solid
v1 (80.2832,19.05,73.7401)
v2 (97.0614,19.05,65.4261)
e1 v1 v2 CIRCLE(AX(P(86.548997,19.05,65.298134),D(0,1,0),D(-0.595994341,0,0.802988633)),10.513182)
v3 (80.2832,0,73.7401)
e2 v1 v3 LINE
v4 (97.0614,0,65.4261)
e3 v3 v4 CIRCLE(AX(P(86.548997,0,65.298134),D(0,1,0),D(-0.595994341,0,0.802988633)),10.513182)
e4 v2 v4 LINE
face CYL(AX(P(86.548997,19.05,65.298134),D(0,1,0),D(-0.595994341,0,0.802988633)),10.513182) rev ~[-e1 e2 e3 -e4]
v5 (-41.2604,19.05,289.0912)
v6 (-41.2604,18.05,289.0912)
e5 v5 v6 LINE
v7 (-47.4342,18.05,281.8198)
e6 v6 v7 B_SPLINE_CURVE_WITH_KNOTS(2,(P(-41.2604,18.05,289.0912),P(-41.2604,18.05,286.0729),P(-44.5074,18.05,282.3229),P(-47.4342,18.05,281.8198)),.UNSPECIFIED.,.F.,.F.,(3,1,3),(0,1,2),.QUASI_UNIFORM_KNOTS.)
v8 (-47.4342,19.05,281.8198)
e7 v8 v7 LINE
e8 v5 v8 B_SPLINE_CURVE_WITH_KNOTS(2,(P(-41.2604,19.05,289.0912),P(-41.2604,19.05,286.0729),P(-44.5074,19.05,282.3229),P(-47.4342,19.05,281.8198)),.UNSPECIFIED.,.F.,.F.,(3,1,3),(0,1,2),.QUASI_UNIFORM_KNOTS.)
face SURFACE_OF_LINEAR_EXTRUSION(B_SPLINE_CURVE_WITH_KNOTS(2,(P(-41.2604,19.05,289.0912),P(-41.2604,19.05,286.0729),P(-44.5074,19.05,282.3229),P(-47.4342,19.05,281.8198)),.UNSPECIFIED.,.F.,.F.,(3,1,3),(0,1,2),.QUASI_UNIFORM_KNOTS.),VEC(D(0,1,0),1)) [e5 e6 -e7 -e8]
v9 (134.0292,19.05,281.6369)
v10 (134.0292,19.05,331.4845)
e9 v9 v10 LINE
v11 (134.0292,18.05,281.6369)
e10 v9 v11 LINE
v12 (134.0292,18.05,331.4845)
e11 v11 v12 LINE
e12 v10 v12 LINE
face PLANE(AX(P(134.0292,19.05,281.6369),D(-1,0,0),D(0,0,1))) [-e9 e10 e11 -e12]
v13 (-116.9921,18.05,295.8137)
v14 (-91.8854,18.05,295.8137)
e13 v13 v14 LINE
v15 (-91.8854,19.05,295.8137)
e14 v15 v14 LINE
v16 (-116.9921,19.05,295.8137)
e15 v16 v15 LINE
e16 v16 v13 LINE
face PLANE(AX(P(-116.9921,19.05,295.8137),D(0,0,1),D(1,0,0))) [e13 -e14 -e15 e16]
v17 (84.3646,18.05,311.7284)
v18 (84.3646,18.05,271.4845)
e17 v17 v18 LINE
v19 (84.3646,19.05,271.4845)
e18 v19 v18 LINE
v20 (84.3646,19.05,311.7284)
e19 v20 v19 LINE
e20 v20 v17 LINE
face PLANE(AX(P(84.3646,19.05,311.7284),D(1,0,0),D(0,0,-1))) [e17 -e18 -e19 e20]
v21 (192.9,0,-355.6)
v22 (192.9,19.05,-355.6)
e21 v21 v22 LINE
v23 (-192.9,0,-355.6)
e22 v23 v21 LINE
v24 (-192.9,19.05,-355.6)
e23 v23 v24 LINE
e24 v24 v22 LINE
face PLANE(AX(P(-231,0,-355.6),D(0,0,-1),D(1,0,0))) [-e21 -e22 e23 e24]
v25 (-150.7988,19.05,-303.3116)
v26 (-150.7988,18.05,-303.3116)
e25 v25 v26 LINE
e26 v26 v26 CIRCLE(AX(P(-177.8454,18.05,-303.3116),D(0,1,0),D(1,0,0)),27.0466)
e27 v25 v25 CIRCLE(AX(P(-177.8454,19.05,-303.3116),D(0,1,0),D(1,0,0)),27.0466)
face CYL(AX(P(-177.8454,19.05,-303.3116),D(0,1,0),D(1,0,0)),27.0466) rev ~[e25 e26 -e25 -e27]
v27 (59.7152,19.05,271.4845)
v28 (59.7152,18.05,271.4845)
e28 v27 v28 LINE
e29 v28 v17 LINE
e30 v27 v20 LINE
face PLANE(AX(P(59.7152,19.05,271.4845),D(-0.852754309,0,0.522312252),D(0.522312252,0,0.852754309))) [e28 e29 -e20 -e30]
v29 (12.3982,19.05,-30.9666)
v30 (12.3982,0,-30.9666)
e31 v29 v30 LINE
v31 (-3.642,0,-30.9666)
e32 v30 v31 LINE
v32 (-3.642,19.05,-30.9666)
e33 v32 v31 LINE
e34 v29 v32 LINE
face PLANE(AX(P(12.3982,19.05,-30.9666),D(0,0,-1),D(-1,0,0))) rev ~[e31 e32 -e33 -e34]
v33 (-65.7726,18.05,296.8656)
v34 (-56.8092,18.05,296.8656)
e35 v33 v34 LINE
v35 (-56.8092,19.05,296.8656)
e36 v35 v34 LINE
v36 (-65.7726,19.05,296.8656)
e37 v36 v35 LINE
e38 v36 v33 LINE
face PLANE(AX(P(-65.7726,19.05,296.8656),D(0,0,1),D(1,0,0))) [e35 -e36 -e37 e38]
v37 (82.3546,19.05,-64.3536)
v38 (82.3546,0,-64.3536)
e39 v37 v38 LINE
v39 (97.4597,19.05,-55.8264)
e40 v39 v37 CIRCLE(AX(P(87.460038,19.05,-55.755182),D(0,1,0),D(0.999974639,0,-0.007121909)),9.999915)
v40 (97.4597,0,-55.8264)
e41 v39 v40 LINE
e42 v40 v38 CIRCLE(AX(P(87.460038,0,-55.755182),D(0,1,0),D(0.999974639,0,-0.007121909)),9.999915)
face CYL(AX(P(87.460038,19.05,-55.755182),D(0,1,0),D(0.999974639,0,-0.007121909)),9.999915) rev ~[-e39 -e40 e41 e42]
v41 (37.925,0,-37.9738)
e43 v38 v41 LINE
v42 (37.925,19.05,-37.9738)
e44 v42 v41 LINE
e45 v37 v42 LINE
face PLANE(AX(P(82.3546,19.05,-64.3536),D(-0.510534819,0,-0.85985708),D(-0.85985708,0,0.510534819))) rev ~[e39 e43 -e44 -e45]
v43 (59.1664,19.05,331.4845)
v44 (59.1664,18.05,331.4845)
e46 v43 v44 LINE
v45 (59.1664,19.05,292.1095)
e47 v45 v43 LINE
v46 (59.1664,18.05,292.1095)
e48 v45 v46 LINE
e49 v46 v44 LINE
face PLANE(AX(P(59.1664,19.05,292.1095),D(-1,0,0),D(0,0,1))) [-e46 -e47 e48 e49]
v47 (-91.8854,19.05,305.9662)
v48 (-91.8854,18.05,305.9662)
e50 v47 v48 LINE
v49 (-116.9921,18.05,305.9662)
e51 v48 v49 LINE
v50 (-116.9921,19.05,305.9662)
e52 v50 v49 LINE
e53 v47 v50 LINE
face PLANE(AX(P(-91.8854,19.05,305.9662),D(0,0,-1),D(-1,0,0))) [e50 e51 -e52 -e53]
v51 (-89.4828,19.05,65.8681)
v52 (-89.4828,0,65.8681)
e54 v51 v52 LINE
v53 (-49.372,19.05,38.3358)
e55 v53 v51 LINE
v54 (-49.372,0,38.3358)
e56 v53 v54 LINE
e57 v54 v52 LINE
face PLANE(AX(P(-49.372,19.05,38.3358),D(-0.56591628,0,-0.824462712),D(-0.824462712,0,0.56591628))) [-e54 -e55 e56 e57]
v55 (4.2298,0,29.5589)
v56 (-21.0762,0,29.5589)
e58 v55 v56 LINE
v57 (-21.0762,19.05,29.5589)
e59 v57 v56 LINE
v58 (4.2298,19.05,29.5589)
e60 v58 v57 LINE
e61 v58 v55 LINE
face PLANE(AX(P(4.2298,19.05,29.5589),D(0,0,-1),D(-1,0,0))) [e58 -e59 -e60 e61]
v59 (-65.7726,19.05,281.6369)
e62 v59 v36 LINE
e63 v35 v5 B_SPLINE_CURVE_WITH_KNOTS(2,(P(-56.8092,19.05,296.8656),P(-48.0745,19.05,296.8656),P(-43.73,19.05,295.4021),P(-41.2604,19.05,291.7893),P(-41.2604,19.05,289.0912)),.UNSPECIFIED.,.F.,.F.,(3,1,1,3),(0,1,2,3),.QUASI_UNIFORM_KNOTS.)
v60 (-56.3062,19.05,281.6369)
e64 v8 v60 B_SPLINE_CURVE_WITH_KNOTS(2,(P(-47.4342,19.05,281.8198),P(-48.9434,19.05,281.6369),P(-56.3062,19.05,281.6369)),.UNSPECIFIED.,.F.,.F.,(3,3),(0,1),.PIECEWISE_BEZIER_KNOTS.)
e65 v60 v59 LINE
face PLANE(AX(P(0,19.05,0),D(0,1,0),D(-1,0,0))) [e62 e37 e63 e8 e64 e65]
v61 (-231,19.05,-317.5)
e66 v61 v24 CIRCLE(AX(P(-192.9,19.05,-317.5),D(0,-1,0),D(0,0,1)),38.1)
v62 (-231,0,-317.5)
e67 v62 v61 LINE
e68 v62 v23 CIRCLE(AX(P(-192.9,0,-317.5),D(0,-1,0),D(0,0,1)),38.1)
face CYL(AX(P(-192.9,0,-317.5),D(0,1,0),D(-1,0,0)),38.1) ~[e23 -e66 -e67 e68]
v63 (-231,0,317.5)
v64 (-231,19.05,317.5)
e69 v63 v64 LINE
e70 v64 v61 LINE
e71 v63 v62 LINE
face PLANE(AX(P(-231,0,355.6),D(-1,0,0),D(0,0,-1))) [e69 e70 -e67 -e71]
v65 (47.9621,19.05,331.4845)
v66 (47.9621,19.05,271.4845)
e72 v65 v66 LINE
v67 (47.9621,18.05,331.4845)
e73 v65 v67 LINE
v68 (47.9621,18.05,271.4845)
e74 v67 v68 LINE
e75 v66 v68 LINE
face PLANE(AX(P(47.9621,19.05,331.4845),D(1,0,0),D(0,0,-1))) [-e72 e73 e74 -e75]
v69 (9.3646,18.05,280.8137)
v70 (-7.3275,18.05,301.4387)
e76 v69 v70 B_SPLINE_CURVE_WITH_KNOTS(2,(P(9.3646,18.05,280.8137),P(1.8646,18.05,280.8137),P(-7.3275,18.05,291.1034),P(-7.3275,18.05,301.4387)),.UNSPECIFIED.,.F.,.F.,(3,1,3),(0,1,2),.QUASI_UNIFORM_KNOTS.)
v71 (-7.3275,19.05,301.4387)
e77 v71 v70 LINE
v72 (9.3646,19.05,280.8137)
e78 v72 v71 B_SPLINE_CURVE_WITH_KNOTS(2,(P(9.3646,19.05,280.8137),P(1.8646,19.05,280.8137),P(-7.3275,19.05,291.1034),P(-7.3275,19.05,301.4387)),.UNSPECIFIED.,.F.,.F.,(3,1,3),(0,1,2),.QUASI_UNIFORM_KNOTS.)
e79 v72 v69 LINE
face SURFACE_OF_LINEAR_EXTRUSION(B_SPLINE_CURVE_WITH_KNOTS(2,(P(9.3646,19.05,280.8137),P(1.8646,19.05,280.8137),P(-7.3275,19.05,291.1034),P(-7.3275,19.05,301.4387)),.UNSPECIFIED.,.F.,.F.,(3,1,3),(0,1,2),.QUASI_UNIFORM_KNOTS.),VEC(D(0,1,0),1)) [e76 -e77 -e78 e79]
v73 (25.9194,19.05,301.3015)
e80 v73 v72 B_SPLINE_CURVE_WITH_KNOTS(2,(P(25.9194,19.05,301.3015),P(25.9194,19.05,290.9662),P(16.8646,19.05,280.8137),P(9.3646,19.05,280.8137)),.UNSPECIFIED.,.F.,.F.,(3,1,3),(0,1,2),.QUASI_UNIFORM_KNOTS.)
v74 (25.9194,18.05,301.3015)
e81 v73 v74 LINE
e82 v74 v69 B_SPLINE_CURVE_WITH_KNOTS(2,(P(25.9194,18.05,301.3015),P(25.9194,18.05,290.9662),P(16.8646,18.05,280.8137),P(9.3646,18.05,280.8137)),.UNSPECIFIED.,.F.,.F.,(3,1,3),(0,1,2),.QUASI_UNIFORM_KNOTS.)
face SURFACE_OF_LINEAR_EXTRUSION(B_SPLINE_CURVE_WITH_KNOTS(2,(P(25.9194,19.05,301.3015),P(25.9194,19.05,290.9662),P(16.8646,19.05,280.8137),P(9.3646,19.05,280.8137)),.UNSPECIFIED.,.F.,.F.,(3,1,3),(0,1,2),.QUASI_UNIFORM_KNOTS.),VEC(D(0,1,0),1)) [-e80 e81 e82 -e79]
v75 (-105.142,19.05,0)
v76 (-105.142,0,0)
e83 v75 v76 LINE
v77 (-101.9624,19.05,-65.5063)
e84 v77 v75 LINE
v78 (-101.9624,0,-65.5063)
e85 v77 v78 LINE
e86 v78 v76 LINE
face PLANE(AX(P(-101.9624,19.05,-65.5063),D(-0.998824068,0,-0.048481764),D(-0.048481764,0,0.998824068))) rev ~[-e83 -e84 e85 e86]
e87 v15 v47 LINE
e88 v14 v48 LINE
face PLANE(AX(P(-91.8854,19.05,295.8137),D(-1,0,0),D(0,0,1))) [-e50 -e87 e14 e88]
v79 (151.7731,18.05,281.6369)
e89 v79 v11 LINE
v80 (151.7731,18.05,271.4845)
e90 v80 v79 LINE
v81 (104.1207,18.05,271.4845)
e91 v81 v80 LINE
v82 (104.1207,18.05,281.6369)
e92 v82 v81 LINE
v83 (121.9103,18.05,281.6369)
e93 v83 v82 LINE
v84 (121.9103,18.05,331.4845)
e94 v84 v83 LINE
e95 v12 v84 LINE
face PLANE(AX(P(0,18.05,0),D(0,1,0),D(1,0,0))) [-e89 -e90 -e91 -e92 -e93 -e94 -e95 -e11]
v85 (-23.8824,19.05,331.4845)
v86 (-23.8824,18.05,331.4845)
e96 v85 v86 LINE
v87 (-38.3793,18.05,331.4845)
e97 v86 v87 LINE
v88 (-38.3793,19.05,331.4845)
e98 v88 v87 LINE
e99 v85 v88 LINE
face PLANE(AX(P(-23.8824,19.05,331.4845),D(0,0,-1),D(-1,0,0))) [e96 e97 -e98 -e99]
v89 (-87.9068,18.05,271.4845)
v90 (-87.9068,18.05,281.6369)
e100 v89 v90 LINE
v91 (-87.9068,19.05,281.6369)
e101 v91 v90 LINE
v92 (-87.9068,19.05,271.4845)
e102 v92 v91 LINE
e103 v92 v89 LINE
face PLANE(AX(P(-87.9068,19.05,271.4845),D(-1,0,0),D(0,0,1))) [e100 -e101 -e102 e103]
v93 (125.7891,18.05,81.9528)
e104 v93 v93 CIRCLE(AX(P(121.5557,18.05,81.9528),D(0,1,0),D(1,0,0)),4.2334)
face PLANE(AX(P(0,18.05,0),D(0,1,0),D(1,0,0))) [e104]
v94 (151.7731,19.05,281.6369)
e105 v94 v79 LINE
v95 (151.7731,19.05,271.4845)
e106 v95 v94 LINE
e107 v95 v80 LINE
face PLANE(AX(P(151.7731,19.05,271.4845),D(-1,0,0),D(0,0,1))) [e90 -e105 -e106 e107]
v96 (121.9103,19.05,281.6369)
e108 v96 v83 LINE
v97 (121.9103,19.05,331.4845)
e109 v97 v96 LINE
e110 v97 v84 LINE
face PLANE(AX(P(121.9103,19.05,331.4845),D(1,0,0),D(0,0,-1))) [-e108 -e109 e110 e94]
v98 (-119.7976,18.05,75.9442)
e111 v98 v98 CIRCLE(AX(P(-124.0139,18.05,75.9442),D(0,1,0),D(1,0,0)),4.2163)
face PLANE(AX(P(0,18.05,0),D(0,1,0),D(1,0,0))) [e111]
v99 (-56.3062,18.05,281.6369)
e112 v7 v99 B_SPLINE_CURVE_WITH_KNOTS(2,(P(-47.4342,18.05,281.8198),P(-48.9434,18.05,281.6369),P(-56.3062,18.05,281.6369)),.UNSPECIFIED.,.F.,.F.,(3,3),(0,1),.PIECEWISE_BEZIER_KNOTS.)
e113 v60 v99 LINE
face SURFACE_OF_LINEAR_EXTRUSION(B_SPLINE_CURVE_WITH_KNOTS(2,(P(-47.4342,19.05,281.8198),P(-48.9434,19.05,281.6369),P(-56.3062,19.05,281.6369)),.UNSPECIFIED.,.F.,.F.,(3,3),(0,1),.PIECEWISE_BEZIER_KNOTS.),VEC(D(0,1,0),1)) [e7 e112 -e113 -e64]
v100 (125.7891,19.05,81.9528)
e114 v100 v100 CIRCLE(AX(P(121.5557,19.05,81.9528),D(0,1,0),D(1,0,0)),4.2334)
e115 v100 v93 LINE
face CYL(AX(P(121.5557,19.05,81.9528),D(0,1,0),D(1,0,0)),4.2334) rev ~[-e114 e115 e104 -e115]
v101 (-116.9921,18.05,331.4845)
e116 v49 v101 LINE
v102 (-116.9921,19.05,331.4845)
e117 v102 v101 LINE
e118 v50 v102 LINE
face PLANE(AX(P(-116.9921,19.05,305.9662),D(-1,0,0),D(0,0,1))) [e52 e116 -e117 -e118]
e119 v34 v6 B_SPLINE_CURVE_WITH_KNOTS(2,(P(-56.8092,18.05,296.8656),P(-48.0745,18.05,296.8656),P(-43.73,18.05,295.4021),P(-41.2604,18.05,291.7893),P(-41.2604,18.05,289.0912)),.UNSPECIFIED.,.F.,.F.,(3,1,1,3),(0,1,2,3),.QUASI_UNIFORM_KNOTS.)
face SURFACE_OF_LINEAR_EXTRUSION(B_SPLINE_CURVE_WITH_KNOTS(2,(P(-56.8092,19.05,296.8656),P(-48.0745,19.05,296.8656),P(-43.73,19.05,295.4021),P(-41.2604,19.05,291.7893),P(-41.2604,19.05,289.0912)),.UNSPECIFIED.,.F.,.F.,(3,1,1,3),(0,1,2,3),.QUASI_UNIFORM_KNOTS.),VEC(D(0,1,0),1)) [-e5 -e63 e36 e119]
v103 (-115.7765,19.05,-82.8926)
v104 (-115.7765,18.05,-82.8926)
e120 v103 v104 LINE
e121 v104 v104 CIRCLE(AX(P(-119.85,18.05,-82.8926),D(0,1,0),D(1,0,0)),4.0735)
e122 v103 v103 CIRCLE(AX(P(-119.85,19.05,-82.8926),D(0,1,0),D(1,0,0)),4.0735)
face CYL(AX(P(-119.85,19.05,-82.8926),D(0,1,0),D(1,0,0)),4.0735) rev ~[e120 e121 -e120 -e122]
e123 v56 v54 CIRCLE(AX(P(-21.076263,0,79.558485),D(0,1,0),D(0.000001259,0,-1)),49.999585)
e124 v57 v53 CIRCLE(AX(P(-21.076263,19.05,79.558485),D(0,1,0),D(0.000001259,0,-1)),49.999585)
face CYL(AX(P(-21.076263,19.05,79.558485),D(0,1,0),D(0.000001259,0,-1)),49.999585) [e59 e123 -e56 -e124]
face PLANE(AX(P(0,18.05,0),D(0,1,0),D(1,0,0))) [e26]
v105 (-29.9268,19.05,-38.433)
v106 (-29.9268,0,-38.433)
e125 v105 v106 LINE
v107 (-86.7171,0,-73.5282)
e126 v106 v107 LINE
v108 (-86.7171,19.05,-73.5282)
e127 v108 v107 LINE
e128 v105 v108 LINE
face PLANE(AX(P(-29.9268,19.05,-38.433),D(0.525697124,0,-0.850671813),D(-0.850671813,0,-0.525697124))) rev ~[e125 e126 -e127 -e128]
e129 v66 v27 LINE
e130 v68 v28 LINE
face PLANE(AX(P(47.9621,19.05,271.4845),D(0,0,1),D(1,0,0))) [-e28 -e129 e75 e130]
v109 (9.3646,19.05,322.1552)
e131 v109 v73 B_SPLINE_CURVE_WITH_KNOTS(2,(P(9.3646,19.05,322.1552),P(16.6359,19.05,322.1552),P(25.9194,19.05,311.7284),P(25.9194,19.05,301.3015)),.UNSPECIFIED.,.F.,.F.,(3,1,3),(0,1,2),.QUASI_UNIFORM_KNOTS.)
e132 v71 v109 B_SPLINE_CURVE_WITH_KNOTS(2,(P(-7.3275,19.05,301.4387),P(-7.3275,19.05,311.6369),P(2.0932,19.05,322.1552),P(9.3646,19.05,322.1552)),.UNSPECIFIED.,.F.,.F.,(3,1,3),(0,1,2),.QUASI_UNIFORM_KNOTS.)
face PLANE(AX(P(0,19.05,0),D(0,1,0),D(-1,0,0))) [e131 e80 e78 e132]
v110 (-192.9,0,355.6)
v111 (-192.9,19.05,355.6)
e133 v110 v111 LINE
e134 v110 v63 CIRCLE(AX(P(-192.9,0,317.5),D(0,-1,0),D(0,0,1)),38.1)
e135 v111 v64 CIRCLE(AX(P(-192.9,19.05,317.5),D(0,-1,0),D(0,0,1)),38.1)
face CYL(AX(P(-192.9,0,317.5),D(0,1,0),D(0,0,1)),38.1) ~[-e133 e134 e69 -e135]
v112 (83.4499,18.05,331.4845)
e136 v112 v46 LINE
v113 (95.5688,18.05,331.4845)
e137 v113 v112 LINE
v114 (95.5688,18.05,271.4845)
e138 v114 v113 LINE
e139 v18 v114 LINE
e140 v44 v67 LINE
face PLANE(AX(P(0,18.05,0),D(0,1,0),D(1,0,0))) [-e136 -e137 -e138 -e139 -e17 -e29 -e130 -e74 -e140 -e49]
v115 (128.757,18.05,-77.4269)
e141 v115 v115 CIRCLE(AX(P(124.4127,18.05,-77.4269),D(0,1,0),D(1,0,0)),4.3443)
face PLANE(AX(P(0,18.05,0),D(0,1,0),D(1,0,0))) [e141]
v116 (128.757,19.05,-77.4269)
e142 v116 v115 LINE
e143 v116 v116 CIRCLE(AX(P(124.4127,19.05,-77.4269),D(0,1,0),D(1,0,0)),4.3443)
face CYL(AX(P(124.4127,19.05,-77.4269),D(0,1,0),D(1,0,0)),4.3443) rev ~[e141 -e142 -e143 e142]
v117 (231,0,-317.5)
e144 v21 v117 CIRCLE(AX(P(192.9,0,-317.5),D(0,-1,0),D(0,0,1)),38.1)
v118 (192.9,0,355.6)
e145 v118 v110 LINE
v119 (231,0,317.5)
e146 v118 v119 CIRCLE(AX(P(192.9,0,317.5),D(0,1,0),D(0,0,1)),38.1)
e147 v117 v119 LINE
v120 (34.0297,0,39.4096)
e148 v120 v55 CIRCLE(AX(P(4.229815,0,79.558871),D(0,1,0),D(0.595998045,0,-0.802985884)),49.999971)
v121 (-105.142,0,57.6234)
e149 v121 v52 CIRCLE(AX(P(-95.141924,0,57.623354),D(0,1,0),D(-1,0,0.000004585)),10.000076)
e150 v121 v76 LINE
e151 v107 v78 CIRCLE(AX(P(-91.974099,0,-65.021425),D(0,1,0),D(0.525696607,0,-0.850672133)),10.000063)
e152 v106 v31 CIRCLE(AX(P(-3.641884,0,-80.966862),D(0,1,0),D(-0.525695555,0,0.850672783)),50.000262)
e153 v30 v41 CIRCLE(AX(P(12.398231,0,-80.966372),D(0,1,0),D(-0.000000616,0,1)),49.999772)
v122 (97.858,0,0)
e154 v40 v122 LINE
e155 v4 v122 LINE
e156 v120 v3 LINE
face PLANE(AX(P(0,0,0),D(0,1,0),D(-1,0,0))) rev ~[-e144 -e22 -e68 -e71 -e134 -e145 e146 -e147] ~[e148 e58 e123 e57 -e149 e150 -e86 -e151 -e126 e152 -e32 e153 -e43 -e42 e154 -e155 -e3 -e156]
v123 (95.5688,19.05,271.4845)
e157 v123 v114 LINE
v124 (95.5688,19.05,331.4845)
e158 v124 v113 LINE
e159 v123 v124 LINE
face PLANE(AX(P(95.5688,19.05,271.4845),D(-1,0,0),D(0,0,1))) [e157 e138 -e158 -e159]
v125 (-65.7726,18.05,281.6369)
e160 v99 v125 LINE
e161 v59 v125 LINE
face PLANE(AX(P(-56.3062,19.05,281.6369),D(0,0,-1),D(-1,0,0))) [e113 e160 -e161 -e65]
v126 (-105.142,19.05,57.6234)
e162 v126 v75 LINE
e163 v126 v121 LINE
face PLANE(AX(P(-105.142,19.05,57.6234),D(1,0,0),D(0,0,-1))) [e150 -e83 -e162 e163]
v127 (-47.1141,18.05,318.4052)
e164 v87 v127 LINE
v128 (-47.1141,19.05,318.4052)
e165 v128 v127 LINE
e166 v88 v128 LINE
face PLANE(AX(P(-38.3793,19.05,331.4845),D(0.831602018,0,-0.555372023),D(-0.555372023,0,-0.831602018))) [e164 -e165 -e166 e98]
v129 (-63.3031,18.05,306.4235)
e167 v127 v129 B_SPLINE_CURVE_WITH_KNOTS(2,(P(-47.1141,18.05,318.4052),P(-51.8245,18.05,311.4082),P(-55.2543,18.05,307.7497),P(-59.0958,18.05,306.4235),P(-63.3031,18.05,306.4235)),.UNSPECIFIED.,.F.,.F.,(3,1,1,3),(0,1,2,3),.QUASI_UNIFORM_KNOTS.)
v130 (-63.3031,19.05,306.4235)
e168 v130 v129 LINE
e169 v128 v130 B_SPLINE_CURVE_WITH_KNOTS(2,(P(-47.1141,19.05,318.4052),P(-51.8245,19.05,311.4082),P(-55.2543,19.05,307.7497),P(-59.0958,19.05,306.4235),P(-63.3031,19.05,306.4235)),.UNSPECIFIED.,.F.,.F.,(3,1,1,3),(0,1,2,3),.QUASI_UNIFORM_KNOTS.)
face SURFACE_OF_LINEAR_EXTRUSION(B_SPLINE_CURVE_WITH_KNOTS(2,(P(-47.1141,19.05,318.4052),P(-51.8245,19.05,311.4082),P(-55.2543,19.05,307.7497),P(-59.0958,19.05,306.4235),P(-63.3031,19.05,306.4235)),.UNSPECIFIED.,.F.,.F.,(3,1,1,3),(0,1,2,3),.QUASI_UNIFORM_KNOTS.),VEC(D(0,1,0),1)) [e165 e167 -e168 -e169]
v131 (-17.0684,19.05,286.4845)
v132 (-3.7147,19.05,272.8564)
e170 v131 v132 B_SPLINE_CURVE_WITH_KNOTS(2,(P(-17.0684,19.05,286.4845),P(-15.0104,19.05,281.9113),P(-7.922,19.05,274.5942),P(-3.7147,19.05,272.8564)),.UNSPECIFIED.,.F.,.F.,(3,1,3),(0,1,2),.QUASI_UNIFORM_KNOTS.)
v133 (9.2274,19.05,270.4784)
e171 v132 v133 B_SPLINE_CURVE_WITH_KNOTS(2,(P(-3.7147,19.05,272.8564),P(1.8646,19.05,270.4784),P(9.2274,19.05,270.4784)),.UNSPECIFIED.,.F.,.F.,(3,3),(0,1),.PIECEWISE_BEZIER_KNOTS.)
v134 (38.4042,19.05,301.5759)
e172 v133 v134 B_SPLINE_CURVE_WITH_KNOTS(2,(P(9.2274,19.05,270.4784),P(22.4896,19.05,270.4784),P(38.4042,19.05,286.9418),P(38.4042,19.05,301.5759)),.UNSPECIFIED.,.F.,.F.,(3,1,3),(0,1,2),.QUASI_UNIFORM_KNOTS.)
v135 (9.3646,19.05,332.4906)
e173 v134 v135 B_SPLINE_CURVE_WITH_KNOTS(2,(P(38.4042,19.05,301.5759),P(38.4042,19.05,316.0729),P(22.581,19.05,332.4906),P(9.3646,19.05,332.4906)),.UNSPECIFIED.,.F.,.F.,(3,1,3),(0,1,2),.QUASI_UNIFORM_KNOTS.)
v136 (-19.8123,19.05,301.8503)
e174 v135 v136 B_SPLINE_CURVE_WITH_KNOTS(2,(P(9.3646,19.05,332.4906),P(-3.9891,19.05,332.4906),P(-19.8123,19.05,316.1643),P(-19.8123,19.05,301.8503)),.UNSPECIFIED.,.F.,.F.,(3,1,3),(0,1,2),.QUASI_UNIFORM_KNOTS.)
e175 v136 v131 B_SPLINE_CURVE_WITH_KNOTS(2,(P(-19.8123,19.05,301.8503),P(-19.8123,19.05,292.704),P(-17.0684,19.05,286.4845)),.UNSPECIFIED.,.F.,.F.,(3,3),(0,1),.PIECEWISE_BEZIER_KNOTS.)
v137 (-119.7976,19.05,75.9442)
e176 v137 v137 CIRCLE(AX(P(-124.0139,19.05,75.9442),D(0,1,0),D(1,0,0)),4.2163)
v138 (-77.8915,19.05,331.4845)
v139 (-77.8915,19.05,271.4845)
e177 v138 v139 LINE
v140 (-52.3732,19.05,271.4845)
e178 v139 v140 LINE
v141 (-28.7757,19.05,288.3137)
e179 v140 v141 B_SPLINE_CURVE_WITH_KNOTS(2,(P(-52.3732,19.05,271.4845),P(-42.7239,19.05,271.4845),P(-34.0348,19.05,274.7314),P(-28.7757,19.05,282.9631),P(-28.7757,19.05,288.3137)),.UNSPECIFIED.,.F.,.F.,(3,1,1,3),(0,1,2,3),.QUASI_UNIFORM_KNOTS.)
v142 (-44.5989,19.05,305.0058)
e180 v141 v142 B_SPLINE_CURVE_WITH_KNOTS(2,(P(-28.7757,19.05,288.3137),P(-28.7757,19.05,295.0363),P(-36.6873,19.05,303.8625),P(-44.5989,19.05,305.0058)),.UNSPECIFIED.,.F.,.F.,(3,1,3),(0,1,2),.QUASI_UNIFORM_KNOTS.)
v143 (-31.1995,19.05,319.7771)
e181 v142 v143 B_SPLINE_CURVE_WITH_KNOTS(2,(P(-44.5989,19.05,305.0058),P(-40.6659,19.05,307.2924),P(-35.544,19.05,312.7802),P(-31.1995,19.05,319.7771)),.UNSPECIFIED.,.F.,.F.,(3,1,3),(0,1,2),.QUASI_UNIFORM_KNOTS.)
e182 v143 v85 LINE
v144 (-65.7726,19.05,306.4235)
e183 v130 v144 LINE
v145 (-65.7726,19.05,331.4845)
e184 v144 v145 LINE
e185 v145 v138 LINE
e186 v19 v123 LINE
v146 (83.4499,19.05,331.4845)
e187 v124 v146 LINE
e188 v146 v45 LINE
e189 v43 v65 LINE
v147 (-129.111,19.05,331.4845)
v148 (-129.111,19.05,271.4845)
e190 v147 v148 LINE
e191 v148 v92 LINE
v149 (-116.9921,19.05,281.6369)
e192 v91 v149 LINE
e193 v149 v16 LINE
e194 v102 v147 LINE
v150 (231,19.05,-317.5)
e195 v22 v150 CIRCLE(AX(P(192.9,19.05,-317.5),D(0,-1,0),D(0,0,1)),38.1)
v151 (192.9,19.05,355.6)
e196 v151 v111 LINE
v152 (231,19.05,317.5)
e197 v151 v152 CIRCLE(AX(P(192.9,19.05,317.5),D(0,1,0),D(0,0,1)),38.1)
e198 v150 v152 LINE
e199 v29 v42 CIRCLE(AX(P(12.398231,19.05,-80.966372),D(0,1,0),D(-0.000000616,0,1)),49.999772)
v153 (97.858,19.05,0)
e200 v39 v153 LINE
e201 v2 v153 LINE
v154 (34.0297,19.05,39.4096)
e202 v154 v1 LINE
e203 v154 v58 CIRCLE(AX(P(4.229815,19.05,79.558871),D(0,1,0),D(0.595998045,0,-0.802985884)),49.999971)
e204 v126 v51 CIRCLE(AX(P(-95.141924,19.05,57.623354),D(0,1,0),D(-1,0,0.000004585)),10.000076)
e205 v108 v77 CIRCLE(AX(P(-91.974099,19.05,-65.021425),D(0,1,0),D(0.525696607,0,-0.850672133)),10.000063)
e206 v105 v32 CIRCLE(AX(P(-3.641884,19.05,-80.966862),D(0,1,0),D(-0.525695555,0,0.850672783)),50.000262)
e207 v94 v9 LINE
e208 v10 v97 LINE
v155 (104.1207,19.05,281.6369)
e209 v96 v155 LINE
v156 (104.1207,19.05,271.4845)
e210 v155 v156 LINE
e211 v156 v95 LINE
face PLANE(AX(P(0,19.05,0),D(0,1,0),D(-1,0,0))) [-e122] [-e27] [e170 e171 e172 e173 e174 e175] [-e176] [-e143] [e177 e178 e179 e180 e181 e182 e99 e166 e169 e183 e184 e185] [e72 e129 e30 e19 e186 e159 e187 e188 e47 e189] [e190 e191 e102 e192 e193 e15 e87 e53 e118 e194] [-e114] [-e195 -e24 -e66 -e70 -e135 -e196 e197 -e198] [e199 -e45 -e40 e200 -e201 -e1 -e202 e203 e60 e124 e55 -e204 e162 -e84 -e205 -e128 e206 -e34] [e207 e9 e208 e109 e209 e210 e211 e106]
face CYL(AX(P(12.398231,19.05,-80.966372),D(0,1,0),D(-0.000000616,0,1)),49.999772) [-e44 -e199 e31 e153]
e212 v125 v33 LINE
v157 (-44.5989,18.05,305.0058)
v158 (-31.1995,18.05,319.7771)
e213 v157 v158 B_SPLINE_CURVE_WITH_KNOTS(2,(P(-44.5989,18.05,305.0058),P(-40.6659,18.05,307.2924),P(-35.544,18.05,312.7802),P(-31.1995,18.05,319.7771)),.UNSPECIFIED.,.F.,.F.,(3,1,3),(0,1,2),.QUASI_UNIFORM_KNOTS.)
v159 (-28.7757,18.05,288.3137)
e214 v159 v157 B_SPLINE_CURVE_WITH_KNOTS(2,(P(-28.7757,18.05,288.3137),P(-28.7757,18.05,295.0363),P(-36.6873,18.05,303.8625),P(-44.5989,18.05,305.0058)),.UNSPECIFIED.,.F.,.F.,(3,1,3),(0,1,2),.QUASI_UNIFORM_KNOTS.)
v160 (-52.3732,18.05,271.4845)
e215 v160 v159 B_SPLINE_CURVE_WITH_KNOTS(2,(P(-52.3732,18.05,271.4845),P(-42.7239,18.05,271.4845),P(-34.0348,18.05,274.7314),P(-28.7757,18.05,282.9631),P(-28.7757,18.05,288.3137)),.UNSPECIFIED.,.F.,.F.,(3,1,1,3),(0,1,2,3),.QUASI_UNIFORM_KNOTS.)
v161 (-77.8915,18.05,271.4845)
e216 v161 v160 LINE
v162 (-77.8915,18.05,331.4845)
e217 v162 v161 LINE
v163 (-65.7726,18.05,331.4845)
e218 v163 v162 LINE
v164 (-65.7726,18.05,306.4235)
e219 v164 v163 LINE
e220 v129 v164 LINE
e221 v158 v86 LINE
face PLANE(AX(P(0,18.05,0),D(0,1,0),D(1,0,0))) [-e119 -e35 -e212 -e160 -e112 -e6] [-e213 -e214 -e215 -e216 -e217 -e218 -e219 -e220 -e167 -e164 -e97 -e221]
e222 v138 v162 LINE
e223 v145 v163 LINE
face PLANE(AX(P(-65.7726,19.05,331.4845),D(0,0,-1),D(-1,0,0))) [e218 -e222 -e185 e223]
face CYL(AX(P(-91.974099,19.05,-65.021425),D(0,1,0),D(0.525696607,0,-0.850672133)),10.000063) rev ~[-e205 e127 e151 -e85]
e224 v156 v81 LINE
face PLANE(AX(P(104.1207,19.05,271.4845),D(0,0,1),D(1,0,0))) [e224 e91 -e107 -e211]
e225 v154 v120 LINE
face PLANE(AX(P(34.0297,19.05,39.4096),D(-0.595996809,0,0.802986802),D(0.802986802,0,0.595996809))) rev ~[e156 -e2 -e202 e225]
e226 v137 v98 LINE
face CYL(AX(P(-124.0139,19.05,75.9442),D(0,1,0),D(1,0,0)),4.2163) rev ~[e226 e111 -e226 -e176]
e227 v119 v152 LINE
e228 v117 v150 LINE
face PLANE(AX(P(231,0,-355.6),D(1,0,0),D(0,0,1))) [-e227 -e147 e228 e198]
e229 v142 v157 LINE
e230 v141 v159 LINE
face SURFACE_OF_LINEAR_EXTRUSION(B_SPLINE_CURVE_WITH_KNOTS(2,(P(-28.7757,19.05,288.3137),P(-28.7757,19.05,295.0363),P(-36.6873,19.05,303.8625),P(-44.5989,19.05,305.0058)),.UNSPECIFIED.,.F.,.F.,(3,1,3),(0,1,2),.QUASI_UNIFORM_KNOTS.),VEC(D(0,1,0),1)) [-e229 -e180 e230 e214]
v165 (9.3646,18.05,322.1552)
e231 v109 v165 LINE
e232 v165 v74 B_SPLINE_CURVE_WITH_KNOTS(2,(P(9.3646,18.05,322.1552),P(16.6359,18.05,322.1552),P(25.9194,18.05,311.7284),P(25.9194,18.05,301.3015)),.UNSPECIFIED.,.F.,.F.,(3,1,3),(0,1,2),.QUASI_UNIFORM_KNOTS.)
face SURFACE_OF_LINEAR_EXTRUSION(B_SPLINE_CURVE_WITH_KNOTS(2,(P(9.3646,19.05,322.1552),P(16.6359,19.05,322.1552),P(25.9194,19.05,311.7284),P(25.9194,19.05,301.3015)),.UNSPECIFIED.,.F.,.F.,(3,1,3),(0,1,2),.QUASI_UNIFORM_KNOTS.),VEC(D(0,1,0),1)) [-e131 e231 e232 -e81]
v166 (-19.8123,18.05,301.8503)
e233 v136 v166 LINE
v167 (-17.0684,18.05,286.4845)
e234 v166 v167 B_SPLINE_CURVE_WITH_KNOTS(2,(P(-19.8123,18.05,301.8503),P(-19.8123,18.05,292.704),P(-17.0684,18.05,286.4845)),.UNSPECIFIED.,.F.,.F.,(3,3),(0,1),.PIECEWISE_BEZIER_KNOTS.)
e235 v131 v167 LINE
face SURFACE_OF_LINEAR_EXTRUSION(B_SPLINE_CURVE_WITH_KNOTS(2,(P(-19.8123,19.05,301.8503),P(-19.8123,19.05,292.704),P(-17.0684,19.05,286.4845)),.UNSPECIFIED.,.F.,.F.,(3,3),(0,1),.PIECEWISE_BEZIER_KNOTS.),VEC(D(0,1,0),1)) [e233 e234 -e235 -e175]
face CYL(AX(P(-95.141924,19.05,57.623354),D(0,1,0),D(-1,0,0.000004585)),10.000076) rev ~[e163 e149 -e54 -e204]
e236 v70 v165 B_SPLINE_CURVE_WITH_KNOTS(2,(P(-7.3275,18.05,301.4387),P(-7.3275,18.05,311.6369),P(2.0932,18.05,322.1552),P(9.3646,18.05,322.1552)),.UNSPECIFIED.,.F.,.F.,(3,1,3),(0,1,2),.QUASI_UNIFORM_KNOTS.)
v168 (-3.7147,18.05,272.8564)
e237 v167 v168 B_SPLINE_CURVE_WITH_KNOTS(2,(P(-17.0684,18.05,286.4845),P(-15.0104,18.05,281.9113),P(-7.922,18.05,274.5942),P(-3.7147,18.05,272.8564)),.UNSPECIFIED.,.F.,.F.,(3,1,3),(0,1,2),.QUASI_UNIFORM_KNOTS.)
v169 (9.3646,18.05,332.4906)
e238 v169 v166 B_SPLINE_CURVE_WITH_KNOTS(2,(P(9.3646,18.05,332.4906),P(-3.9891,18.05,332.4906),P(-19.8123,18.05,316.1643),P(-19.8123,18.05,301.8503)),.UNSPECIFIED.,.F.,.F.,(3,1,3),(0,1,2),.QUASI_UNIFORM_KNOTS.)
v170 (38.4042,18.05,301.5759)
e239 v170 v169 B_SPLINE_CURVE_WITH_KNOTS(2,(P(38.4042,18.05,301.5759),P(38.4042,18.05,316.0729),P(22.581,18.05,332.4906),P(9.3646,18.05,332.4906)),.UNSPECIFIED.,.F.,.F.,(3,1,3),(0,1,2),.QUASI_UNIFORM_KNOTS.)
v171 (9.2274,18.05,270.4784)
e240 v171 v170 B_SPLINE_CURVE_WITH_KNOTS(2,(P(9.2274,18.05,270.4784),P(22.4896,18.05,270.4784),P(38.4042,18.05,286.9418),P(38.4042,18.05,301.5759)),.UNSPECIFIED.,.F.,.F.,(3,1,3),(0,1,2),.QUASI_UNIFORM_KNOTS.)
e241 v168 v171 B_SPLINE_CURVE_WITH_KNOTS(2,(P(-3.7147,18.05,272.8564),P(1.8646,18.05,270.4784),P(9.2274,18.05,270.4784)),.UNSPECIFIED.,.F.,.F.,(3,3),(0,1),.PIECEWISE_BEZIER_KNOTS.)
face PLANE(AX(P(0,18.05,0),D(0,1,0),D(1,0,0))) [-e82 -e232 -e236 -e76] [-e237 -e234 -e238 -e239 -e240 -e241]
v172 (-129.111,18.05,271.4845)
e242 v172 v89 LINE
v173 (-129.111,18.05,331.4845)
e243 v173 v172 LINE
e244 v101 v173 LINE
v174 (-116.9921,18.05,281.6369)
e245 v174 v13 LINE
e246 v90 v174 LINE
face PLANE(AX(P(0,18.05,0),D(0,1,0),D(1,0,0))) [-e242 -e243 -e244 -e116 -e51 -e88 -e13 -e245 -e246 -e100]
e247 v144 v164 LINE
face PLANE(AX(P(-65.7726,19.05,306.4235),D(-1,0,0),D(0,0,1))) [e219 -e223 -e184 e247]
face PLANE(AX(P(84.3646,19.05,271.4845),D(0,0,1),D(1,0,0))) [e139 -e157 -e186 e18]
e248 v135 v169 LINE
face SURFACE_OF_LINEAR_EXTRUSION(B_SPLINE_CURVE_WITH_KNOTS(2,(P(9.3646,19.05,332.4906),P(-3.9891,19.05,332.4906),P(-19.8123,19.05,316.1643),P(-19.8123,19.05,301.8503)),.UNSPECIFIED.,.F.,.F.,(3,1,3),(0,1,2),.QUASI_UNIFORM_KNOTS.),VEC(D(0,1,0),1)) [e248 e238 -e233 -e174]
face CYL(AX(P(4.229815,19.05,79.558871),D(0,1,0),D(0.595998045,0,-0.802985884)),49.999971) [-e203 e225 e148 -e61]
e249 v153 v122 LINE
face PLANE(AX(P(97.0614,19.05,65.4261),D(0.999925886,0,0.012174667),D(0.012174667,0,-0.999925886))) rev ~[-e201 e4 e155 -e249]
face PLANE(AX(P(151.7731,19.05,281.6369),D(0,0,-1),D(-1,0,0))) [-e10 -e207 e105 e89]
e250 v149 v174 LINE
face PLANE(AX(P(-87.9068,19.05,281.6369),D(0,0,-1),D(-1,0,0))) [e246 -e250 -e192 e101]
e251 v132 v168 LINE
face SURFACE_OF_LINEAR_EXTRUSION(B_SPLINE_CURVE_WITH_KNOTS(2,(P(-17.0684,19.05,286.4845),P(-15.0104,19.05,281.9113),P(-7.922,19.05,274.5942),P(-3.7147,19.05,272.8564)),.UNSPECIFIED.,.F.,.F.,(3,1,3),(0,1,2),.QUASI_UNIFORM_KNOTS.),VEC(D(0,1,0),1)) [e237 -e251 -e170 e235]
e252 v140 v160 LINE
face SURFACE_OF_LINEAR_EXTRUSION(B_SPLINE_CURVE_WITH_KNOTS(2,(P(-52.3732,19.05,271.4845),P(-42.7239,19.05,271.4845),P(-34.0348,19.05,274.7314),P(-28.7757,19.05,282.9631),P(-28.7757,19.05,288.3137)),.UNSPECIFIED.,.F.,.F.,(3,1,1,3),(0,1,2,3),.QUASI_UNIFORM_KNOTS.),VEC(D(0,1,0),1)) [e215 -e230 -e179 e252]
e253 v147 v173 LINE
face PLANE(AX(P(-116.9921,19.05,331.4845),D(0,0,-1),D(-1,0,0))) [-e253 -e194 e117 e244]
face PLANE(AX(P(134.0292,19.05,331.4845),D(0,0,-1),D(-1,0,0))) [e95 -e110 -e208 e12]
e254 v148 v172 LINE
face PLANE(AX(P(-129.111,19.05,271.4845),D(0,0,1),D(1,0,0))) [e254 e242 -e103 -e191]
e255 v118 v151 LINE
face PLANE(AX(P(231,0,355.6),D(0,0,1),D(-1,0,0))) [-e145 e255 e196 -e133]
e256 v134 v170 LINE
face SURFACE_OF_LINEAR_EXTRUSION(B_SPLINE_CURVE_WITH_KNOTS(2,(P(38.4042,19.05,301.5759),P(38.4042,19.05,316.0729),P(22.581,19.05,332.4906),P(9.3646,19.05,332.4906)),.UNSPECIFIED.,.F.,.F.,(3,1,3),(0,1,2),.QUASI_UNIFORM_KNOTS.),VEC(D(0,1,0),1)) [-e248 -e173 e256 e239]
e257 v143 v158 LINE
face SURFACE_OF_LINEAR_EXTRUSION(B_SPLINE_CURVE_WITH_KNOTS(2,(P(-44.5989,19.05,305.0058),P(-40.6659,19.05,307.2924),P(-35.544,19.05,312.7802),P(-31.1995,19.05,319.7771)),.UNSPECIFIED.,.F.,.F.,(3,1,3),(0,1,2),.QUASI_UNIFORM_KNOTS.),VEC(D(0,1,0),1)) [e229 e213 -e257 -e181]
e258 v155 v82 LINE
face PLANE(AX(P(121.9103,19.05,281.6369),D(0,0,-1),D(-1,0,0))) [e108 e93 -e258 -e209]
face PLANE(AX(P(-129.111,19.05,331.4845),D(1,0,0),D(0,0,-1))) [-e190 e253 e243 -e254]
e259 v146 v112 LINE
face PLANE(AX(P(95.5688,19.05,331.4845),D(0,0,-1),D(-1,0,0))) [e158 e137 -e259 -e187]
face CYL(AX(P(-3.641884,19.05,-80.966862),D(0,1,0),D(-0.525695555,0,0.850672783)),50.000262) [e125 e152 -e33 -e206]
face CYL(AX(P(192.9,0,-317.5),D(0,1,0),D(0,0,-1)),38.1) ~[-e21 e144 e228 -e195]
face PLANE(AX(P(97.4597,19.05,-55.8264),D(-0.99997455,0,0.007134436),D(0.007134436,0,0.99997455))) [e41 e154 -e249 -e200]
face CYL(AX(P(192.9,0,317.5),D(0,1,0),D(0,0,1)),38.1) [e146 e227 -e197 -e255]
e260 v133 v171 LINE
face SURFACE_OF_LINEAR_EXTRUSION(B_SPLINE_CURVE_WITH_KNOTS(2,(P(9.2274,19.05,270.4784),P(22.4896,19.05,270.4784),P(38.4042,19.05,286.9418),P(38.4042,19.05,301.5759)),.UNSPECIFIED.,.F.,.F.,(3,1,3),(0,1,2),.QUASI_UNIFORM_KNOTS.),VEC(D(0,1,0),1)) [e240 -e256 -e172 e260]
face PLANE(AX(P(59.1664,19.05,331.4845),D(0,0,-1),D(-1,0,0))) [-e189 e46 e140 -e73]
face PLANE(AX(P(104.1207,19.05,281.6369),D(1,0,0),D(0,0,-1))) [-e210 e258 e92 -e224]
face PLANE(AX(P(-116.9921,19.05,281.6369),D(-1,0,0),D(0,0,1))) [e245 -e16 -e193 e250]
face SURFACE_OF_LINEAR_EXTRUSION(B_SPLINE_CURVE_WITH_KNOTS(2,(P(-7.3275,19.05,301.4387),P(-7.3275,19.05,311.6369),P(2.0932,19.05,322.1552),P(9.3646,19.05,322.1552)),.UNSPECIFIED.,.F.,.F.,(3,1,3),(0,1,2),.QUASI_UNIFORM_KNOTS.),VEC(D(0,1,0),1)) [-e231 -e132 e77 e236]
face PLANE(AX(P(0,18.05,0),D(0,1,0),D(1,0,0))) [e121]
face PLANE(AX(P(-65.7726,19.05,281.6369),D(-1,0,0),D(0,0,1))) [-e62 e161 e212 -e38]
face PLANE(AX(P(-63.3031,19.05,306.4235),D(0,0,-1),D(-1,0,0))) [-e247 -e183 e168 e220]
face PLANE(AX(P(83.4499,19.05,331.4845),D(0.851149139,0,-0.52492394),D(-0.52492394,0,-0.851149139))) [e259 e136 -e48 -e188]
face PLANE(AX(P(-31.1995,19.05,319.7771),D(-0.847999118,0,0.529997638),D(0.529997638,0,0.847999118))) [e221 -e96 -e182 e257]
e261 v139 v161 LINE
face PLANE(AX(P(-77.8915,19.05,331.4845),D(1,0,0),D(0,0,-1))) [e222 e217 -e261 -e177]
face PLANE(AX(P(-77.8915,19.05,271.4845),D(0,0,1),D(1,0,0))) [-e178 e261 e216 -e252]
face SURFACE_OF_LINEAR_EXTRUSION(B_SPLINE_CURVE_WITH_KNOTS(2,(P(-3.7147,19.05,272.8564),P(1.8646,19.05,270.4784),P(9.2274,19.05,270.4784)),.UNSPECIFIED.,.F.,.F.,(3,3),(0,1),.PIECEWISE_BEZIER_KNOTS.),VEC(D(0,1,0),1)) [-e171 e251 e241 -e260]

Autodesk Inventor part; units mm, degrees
ref_plane "YZ Plane" through (0, 0, 0) normal (1, 0, 0) x (0, 1, 0)
ref_plane "XZ Plane" through (0, 0, 0) normal (0, 1, 0) x (-1, 0, 0)
ref_plane "XY Plane" through (0, 0, 0) normal (0, 0, 1) x (1, 0, 0)
sketch "Sketch1" plane through (0, 0, 0) normal (0, 1, 0) x (-1, 0, 0)
  line L0 (-231, 355.6) -> (231, 355.6)
  line L1 (231, 355.6) -> (231, -355.6)
  line L2 (231, -355.6) -> (-231, -355.6)
  line L3 (-231, -355.6) -> (-231, 355.6)
  line L4 (-231, 355.6) -> (231, -355.6) construction
  line L5 (231, 355.6) -> (-231, -355.6) construction
  point P0 (0, 0)
  dimension "d0" = 462
  dimension "d1" = 711.2
extrude "Extrusion1" add sketch "Sketch1" along normal blind 19.05
fillet "Fillet1" radius 38.1 4 edges at (231, 9.525, 355.6) (-231, 9.525, 355.6) (-231, 9.525, -355.6) (231, 9.525, -355.6)
sketch "Sketch2" plane through (0, 19.05, 0) normal (0, 1, 0) x (1, 0, 0)
  line L0 (152.8766, -178.8891) -> (-179.8029, -178.8891) construction
  line L1 (-179.8029, -178.8891) -> (-179.8029, 264.6836) construction
  line L2 (-179.8029, 264.6836) -> (152.8766, 264.6836) construction
  line L3 (152.8766, 264.6836) -> (152.8766, -178.8891) construction
  line L4 (0, -29.5589) -> (0, 30.9666) construction
  line L5 (0, 30.9666) -> (0, 0.7039) construction
  line L6 (97.858, 0) -> (-105.142, 0) construction
  point P0 (0, 0)
  dimension "d23" = 203
  dimension "d28" = 60.5255
  dimension "d29" = 178.8891
  dimension "d31" = 55.0186
  dimension "d32" = 152.8766
  dimension "d34" = 149.3302
  dimension "d41" = 332.6795
sketch "Sketch3" plane through (0, 19.05, 0) normal (0, 1, 0) x (1, 0, 0)
  circle A0 centre (-177.8454, 303.3116) radius 27.0466
  point P0 (0, 0)
extrude "Extrusion2" cut sketch "Sketch3" against normal blind 1
sketch "Sketch4" plane through (0, 19.05, 0) normal (0, 1, 0) x (1, 0, 0)
  point P0 (0, 0)
sketch "Sketch5" plane through (0, 19.05, 0) normal (0, 1, 0) x (1, 0, 0)
  line L0 (-102.322, -272.8587) -> (120.5938, -272.8587) construction
  line L1 (120.5938, -272.8587) -> (120.5938, -330.1103) construction
  line L2 (120.5938, -330.1103) -> (-102.322, -330.1103) construction
  line L3 (-102.322, -330.1103) -> (-102.322, -272.8587) construction
  line L4 (-129.111, -331.4845) -> (-129.111, -271.4845)
  line L5 (-129.111, -271.4845) -> (-87.9068, -271.4845)
  line L6 (-87.9068, -271.4845) -> (-87.9068, -281.6369)
  line L7 (-87.9068, -281.6369) -> (-116.9921, -281.6369)
  line L8 (-116.9921, -281.6369) -> (-116.9921, -295.8137)
  line L9 (-116.9921, -295.8137) -> (-91.8854, -295.8137)
  line L10 (-91.8854, -295.8137) -> (-91.8854, -305.9662)
  line L11 (-91.8854, -305.9662) -> (-116.9921, -305.9662)
  line L12 (-116.9921, -305.9662) -> (-116.9921, -331.4845)
  line L13 (-116.9921, -331.4845) -> (-129.111, -331.4845)
  line L14 (-77.8915, -331.4845) -> (-77.8915, -271.4845)
  line L15 (-77.8915, -271.4845) -> (-52.3732, -271.4845)
  spline S0 degree 2 poles (-52.3732, -271.4845) (-42.7239, -271.4845) (-34.0348, -274.7314) (-28.7757, -282.9631) (-28.7757, -288.3137) knots 0 0 0 1 2 3 3 3
  spline S1 degree 2 poles (-28.7757, -288.3137) (-28.7757, -295.0363) (-36.6873, -303.8625) (-44.5989, -305.0058) knots 0 0 0 1 2 2 2
  spline S2 degree 2 poles (-44.5989, -305.0058) (-40.6659, -307.2924) (-35.544, -312.7802) (-31.1995, -319.7771) knots 0 0 0 1 2 2 2
  line L16 (-31.1995, -319.7771) -> (-23.8824, -331.4845)
  line L17 (-23.8824, -331.4845) -> (-38.3793, -331.4845)
  line L18 (-38.3793, -331.4845) -> (-47.1141, -318.4052)
  spline S3 degree 2 poles (-47.1141, -318.4052) (-51.8245, -311.4082) (-55.2543, -307.7497) (-59.0958, -306.4235) (-63.3031, -306.4235) knots 0 0 0 1 2 3 3 3
  line L19 (-63.3031, -306.4235) -> (-65.7726, -306.4235)
  line L20 (-65.7726, -306.4235) -> (-65.7726, -331.4845)
  line L21 (-65.7726, -331.4845) -> (-77.8915, -331.4845)
  line L22 (-65.7726, -296.8656) -> (-56.8092, -296.8656)
  spline S4 degree 2 poles (-56.8092, -296.8656) (-48.0745, -296.8656) (-43.73, -295.4021) (-41.2604, -291.7893) (-41.2604, -289.0912) knots 0 0 0 1 2 3 3 3
  spline S5 degree 2 poles (-41.2604, -289.0912) (-41.2604, -286.0729) (-44.5074, -282.3229) (-47.4342, -281.8198) knots 0 0 0 1 2 2 2
  spline S6 degree 2 poles (-47.4342, -281.8198) (-48.9434, -281.6369) (-56.3062, -281.6369) knots 0 0 0 1 1 1
  line L23 (-56.3062, -281.6369) -> (-65.7726, -281.6369)
  line L24 (-65.7726, -281.6369) -> (-65.7726, -296.8656)
  spline S7 degree 2 poles (-19.8123, -301.8503) (-19.8123, -292.704) (-17.0684, -286.4845) knots 0 0 0 1 1 1
  spline S8 degree 2 poles (-17.0684, -286.4845) (-15.0104, -281.9113) (-7.922, -274.5942) (-3.7147, -272.8564) knots 0 0 0 1 2 2 2
  spline S9 degree 2 poles (-3.7147, -272.8564) (1.8646, -270.4784) (9.2274, -270.4784) knots 0 0 0 1 1 1
  spline S10 degree 2 poles (9.2274, -270.4784) (22.4896, -270.4784) (38.4042, -286.9418) (38.4042, -301.5759) knots 0 0 0 1 2 2 2
  spline S11 degree 2 poles (38.4042, -301.5759) (38.4042, -316.0729) (22.581, -332.4906) (9.3646, -332.4906) knots 0 0 0 1 2 2 2
  spline S12 degree 2 poles (9.3646, -332.4906) (-3.9891, -332.4906) (-19.8123, -316.1643) (-19.8123, -301.8503) knots 0 0 0 1 2 2 2
  spline S13 degree 2 poles (-7.3275, -301.4387) (-7.3275, -311.6369) (2.0932, -322.1552) (9.3646, -322.1552) knots 0 0 0 1 2 2 2
  spline S14 degree 2 poles (9.3646, -322.1552) (16.6359, -322.1552) (25.9194, -311.7284) (25.9194, -301.3015) knots 0 0 0 1 2 2 2
  spline S15 degree 2 poles (25.9194, -301.3015) (25.9194, -290.9662) (16.8646, -280.8137) (9.3646, -280.8137) knots 0 0 0 1 2 2 2
  spline S16 degree 2 poles (9.3646, -280.8137) (1.8646, -280.8137) (-7.3275, -291.1034) (-7.3275, -301.4387) knots 0 0 0 1 2 2 2
  line L25 (47.9621, -331.4845) -> (47.9621, -271.4845)
  line L26 (47.9621, -271.4845) -> (59.7152, -271.4845)
  line L27 (59.7152, -271.4845) -> (84.3646, -311.7284)
  line L28 (84.3646, -311.7284) -> (84.3646, -271.4845)
  line L29 (84.3646, -271.4845) -> (95.5688, -271.4845)
  line L30 (95.5688, -271.4845) -> (95.5688, -331.4845)
  line L31 (95.5688, -331.4845) -> (83.4499, -331.4845)
  line L32 (83.4499, -331.4845) -> (59.1664, -292.1095)
  line L33 (59.1664, -292.1095) -> (59.1664, -331.4845)
  line L34 (59.1664, -331.4845) -> (47.9621, -331.4845)
  line L35 (121.9103, -331.4845) -> (121.9103, -281.6369)
  line L36 (121.9103, -281.6369) -> (104.1207, -281.6369)
  line L37 (104.1207, -281.6369) -> (104.1207, -271.4845)
  line L38 (104.1207, -271.4845) -> (151.7731, -271.4845)
  line L39 (151.7731, -271.4845) -> (151.7731, -281.6369)
  line L40 (151.7731, -281.6369) -> (134.0292, -281.6369)
  line L41 (134.0292, -281.6369) -> (134.0292, -331.4845)
  line L42 (134.0292, -331.4845) -> (121.9103, -331.4845)
  point P0 (0, 0)
extrude "Extrusion3" cut sketch "Sketch5" against normal blind 1
sketch "Sketch6" plane through (0, 19.05, 0) normal (0, 1, 0) x (1, 0, 0)
  line L0 (4.2298, -29.5589) -> (-21.0762, -29.5589)
  line L1 (12.3982, 30.9666) -> (-3.642, 30.9666)
  line L2 (82.3546, 64.3536) -> (37.925, 37.9738)
  line L3 (-29.9268, 38.433) -> (-86.7171, 73.5282)
  line L4 (-49.372, -38.3358) -> (-89.4828, -65.8681)
  line L5 (34.0297, -39.4096) -> (80.2832, -73.7401)
  line L6 (0, -29.5589) -> (0, 30.9666) construction
  line L7 (97.858, 0) -> (-105.142, 0) construction
  arc A0 (-21.0762, -29.5589) -> (-49.372, -38.3358) centre (-21.0762, -79.5589) ccw
  arc A1 (34.0297, -39.4096) -> (4.2298, -29.5589) centre (4.2298, -79.5589) ccw
  arc A2 (12.3982, 30.9666) -> (37.925, 37.9738) centre (12.3982, 80.9666) ccw
  arc A3 (-29.9268, 38.433) -> (-3.642, 30.9666) centre (-3.642, 80.9666) ccw
  arc A4 (97.4597, 55.8264) -> (82.3546, 64.3536) centre (87.4599, 55.7551) ccw
  arc A5 (80.2832, -73.7401) -> (97.0614, -65.4261) centre (86.549, -65.2981) ccw
  arc A6 (-105.142, -57.6234) -> (-89.4828, -65.8681) centre (-95.142, -57.6234) ccw
  arc A7 (-86.7171, 73.5282) -> (-101.9624, 65.5063) centre (-91.9741, 65.0214) ccw
  line L8 (-101.9624, 65.5063) -> (-105.142, 0)
  line L9 (-105.142, -57.6234) -> (-105.142, 0)
  line L10 (97.0614, -65.4261) -> (97.858, 0)
  line L11 (97.4597, 55.8264) -> (97.858, 0)
  point P0 (0, 0)
  dimension "d56" = 50
  dimension "d57" = 50
  dimension "d58" = 50
  dimension "d59" = 10
  dimension "d61" = 10
  dimension "d62" = 10
extrude "Extrusion4" cut sketch "Sketch6" against normal through all
sketch "Sketch7" plane through (0, 19.05, 0) normal (0, 1, 0) x (1, 0, 0)
  circle A0 centre (121.5557, -81.9528) radius 4.2334
  circle A1 centre (124.4127, 77.4269) radius 4.3443
  circle A2 centre (-119.85, 82.8926) radius 4.0735
  circle A3 centre (-124.0139, -75.9442) radius 4.2163
  point P0 (0, 0)
extrude "Extrusion5" cut sketch "Sketch7" against normal blind 1
equation "\"d57\" = d56"
equation "\"d58\" = d57"
properties part number "BaseBoard"
